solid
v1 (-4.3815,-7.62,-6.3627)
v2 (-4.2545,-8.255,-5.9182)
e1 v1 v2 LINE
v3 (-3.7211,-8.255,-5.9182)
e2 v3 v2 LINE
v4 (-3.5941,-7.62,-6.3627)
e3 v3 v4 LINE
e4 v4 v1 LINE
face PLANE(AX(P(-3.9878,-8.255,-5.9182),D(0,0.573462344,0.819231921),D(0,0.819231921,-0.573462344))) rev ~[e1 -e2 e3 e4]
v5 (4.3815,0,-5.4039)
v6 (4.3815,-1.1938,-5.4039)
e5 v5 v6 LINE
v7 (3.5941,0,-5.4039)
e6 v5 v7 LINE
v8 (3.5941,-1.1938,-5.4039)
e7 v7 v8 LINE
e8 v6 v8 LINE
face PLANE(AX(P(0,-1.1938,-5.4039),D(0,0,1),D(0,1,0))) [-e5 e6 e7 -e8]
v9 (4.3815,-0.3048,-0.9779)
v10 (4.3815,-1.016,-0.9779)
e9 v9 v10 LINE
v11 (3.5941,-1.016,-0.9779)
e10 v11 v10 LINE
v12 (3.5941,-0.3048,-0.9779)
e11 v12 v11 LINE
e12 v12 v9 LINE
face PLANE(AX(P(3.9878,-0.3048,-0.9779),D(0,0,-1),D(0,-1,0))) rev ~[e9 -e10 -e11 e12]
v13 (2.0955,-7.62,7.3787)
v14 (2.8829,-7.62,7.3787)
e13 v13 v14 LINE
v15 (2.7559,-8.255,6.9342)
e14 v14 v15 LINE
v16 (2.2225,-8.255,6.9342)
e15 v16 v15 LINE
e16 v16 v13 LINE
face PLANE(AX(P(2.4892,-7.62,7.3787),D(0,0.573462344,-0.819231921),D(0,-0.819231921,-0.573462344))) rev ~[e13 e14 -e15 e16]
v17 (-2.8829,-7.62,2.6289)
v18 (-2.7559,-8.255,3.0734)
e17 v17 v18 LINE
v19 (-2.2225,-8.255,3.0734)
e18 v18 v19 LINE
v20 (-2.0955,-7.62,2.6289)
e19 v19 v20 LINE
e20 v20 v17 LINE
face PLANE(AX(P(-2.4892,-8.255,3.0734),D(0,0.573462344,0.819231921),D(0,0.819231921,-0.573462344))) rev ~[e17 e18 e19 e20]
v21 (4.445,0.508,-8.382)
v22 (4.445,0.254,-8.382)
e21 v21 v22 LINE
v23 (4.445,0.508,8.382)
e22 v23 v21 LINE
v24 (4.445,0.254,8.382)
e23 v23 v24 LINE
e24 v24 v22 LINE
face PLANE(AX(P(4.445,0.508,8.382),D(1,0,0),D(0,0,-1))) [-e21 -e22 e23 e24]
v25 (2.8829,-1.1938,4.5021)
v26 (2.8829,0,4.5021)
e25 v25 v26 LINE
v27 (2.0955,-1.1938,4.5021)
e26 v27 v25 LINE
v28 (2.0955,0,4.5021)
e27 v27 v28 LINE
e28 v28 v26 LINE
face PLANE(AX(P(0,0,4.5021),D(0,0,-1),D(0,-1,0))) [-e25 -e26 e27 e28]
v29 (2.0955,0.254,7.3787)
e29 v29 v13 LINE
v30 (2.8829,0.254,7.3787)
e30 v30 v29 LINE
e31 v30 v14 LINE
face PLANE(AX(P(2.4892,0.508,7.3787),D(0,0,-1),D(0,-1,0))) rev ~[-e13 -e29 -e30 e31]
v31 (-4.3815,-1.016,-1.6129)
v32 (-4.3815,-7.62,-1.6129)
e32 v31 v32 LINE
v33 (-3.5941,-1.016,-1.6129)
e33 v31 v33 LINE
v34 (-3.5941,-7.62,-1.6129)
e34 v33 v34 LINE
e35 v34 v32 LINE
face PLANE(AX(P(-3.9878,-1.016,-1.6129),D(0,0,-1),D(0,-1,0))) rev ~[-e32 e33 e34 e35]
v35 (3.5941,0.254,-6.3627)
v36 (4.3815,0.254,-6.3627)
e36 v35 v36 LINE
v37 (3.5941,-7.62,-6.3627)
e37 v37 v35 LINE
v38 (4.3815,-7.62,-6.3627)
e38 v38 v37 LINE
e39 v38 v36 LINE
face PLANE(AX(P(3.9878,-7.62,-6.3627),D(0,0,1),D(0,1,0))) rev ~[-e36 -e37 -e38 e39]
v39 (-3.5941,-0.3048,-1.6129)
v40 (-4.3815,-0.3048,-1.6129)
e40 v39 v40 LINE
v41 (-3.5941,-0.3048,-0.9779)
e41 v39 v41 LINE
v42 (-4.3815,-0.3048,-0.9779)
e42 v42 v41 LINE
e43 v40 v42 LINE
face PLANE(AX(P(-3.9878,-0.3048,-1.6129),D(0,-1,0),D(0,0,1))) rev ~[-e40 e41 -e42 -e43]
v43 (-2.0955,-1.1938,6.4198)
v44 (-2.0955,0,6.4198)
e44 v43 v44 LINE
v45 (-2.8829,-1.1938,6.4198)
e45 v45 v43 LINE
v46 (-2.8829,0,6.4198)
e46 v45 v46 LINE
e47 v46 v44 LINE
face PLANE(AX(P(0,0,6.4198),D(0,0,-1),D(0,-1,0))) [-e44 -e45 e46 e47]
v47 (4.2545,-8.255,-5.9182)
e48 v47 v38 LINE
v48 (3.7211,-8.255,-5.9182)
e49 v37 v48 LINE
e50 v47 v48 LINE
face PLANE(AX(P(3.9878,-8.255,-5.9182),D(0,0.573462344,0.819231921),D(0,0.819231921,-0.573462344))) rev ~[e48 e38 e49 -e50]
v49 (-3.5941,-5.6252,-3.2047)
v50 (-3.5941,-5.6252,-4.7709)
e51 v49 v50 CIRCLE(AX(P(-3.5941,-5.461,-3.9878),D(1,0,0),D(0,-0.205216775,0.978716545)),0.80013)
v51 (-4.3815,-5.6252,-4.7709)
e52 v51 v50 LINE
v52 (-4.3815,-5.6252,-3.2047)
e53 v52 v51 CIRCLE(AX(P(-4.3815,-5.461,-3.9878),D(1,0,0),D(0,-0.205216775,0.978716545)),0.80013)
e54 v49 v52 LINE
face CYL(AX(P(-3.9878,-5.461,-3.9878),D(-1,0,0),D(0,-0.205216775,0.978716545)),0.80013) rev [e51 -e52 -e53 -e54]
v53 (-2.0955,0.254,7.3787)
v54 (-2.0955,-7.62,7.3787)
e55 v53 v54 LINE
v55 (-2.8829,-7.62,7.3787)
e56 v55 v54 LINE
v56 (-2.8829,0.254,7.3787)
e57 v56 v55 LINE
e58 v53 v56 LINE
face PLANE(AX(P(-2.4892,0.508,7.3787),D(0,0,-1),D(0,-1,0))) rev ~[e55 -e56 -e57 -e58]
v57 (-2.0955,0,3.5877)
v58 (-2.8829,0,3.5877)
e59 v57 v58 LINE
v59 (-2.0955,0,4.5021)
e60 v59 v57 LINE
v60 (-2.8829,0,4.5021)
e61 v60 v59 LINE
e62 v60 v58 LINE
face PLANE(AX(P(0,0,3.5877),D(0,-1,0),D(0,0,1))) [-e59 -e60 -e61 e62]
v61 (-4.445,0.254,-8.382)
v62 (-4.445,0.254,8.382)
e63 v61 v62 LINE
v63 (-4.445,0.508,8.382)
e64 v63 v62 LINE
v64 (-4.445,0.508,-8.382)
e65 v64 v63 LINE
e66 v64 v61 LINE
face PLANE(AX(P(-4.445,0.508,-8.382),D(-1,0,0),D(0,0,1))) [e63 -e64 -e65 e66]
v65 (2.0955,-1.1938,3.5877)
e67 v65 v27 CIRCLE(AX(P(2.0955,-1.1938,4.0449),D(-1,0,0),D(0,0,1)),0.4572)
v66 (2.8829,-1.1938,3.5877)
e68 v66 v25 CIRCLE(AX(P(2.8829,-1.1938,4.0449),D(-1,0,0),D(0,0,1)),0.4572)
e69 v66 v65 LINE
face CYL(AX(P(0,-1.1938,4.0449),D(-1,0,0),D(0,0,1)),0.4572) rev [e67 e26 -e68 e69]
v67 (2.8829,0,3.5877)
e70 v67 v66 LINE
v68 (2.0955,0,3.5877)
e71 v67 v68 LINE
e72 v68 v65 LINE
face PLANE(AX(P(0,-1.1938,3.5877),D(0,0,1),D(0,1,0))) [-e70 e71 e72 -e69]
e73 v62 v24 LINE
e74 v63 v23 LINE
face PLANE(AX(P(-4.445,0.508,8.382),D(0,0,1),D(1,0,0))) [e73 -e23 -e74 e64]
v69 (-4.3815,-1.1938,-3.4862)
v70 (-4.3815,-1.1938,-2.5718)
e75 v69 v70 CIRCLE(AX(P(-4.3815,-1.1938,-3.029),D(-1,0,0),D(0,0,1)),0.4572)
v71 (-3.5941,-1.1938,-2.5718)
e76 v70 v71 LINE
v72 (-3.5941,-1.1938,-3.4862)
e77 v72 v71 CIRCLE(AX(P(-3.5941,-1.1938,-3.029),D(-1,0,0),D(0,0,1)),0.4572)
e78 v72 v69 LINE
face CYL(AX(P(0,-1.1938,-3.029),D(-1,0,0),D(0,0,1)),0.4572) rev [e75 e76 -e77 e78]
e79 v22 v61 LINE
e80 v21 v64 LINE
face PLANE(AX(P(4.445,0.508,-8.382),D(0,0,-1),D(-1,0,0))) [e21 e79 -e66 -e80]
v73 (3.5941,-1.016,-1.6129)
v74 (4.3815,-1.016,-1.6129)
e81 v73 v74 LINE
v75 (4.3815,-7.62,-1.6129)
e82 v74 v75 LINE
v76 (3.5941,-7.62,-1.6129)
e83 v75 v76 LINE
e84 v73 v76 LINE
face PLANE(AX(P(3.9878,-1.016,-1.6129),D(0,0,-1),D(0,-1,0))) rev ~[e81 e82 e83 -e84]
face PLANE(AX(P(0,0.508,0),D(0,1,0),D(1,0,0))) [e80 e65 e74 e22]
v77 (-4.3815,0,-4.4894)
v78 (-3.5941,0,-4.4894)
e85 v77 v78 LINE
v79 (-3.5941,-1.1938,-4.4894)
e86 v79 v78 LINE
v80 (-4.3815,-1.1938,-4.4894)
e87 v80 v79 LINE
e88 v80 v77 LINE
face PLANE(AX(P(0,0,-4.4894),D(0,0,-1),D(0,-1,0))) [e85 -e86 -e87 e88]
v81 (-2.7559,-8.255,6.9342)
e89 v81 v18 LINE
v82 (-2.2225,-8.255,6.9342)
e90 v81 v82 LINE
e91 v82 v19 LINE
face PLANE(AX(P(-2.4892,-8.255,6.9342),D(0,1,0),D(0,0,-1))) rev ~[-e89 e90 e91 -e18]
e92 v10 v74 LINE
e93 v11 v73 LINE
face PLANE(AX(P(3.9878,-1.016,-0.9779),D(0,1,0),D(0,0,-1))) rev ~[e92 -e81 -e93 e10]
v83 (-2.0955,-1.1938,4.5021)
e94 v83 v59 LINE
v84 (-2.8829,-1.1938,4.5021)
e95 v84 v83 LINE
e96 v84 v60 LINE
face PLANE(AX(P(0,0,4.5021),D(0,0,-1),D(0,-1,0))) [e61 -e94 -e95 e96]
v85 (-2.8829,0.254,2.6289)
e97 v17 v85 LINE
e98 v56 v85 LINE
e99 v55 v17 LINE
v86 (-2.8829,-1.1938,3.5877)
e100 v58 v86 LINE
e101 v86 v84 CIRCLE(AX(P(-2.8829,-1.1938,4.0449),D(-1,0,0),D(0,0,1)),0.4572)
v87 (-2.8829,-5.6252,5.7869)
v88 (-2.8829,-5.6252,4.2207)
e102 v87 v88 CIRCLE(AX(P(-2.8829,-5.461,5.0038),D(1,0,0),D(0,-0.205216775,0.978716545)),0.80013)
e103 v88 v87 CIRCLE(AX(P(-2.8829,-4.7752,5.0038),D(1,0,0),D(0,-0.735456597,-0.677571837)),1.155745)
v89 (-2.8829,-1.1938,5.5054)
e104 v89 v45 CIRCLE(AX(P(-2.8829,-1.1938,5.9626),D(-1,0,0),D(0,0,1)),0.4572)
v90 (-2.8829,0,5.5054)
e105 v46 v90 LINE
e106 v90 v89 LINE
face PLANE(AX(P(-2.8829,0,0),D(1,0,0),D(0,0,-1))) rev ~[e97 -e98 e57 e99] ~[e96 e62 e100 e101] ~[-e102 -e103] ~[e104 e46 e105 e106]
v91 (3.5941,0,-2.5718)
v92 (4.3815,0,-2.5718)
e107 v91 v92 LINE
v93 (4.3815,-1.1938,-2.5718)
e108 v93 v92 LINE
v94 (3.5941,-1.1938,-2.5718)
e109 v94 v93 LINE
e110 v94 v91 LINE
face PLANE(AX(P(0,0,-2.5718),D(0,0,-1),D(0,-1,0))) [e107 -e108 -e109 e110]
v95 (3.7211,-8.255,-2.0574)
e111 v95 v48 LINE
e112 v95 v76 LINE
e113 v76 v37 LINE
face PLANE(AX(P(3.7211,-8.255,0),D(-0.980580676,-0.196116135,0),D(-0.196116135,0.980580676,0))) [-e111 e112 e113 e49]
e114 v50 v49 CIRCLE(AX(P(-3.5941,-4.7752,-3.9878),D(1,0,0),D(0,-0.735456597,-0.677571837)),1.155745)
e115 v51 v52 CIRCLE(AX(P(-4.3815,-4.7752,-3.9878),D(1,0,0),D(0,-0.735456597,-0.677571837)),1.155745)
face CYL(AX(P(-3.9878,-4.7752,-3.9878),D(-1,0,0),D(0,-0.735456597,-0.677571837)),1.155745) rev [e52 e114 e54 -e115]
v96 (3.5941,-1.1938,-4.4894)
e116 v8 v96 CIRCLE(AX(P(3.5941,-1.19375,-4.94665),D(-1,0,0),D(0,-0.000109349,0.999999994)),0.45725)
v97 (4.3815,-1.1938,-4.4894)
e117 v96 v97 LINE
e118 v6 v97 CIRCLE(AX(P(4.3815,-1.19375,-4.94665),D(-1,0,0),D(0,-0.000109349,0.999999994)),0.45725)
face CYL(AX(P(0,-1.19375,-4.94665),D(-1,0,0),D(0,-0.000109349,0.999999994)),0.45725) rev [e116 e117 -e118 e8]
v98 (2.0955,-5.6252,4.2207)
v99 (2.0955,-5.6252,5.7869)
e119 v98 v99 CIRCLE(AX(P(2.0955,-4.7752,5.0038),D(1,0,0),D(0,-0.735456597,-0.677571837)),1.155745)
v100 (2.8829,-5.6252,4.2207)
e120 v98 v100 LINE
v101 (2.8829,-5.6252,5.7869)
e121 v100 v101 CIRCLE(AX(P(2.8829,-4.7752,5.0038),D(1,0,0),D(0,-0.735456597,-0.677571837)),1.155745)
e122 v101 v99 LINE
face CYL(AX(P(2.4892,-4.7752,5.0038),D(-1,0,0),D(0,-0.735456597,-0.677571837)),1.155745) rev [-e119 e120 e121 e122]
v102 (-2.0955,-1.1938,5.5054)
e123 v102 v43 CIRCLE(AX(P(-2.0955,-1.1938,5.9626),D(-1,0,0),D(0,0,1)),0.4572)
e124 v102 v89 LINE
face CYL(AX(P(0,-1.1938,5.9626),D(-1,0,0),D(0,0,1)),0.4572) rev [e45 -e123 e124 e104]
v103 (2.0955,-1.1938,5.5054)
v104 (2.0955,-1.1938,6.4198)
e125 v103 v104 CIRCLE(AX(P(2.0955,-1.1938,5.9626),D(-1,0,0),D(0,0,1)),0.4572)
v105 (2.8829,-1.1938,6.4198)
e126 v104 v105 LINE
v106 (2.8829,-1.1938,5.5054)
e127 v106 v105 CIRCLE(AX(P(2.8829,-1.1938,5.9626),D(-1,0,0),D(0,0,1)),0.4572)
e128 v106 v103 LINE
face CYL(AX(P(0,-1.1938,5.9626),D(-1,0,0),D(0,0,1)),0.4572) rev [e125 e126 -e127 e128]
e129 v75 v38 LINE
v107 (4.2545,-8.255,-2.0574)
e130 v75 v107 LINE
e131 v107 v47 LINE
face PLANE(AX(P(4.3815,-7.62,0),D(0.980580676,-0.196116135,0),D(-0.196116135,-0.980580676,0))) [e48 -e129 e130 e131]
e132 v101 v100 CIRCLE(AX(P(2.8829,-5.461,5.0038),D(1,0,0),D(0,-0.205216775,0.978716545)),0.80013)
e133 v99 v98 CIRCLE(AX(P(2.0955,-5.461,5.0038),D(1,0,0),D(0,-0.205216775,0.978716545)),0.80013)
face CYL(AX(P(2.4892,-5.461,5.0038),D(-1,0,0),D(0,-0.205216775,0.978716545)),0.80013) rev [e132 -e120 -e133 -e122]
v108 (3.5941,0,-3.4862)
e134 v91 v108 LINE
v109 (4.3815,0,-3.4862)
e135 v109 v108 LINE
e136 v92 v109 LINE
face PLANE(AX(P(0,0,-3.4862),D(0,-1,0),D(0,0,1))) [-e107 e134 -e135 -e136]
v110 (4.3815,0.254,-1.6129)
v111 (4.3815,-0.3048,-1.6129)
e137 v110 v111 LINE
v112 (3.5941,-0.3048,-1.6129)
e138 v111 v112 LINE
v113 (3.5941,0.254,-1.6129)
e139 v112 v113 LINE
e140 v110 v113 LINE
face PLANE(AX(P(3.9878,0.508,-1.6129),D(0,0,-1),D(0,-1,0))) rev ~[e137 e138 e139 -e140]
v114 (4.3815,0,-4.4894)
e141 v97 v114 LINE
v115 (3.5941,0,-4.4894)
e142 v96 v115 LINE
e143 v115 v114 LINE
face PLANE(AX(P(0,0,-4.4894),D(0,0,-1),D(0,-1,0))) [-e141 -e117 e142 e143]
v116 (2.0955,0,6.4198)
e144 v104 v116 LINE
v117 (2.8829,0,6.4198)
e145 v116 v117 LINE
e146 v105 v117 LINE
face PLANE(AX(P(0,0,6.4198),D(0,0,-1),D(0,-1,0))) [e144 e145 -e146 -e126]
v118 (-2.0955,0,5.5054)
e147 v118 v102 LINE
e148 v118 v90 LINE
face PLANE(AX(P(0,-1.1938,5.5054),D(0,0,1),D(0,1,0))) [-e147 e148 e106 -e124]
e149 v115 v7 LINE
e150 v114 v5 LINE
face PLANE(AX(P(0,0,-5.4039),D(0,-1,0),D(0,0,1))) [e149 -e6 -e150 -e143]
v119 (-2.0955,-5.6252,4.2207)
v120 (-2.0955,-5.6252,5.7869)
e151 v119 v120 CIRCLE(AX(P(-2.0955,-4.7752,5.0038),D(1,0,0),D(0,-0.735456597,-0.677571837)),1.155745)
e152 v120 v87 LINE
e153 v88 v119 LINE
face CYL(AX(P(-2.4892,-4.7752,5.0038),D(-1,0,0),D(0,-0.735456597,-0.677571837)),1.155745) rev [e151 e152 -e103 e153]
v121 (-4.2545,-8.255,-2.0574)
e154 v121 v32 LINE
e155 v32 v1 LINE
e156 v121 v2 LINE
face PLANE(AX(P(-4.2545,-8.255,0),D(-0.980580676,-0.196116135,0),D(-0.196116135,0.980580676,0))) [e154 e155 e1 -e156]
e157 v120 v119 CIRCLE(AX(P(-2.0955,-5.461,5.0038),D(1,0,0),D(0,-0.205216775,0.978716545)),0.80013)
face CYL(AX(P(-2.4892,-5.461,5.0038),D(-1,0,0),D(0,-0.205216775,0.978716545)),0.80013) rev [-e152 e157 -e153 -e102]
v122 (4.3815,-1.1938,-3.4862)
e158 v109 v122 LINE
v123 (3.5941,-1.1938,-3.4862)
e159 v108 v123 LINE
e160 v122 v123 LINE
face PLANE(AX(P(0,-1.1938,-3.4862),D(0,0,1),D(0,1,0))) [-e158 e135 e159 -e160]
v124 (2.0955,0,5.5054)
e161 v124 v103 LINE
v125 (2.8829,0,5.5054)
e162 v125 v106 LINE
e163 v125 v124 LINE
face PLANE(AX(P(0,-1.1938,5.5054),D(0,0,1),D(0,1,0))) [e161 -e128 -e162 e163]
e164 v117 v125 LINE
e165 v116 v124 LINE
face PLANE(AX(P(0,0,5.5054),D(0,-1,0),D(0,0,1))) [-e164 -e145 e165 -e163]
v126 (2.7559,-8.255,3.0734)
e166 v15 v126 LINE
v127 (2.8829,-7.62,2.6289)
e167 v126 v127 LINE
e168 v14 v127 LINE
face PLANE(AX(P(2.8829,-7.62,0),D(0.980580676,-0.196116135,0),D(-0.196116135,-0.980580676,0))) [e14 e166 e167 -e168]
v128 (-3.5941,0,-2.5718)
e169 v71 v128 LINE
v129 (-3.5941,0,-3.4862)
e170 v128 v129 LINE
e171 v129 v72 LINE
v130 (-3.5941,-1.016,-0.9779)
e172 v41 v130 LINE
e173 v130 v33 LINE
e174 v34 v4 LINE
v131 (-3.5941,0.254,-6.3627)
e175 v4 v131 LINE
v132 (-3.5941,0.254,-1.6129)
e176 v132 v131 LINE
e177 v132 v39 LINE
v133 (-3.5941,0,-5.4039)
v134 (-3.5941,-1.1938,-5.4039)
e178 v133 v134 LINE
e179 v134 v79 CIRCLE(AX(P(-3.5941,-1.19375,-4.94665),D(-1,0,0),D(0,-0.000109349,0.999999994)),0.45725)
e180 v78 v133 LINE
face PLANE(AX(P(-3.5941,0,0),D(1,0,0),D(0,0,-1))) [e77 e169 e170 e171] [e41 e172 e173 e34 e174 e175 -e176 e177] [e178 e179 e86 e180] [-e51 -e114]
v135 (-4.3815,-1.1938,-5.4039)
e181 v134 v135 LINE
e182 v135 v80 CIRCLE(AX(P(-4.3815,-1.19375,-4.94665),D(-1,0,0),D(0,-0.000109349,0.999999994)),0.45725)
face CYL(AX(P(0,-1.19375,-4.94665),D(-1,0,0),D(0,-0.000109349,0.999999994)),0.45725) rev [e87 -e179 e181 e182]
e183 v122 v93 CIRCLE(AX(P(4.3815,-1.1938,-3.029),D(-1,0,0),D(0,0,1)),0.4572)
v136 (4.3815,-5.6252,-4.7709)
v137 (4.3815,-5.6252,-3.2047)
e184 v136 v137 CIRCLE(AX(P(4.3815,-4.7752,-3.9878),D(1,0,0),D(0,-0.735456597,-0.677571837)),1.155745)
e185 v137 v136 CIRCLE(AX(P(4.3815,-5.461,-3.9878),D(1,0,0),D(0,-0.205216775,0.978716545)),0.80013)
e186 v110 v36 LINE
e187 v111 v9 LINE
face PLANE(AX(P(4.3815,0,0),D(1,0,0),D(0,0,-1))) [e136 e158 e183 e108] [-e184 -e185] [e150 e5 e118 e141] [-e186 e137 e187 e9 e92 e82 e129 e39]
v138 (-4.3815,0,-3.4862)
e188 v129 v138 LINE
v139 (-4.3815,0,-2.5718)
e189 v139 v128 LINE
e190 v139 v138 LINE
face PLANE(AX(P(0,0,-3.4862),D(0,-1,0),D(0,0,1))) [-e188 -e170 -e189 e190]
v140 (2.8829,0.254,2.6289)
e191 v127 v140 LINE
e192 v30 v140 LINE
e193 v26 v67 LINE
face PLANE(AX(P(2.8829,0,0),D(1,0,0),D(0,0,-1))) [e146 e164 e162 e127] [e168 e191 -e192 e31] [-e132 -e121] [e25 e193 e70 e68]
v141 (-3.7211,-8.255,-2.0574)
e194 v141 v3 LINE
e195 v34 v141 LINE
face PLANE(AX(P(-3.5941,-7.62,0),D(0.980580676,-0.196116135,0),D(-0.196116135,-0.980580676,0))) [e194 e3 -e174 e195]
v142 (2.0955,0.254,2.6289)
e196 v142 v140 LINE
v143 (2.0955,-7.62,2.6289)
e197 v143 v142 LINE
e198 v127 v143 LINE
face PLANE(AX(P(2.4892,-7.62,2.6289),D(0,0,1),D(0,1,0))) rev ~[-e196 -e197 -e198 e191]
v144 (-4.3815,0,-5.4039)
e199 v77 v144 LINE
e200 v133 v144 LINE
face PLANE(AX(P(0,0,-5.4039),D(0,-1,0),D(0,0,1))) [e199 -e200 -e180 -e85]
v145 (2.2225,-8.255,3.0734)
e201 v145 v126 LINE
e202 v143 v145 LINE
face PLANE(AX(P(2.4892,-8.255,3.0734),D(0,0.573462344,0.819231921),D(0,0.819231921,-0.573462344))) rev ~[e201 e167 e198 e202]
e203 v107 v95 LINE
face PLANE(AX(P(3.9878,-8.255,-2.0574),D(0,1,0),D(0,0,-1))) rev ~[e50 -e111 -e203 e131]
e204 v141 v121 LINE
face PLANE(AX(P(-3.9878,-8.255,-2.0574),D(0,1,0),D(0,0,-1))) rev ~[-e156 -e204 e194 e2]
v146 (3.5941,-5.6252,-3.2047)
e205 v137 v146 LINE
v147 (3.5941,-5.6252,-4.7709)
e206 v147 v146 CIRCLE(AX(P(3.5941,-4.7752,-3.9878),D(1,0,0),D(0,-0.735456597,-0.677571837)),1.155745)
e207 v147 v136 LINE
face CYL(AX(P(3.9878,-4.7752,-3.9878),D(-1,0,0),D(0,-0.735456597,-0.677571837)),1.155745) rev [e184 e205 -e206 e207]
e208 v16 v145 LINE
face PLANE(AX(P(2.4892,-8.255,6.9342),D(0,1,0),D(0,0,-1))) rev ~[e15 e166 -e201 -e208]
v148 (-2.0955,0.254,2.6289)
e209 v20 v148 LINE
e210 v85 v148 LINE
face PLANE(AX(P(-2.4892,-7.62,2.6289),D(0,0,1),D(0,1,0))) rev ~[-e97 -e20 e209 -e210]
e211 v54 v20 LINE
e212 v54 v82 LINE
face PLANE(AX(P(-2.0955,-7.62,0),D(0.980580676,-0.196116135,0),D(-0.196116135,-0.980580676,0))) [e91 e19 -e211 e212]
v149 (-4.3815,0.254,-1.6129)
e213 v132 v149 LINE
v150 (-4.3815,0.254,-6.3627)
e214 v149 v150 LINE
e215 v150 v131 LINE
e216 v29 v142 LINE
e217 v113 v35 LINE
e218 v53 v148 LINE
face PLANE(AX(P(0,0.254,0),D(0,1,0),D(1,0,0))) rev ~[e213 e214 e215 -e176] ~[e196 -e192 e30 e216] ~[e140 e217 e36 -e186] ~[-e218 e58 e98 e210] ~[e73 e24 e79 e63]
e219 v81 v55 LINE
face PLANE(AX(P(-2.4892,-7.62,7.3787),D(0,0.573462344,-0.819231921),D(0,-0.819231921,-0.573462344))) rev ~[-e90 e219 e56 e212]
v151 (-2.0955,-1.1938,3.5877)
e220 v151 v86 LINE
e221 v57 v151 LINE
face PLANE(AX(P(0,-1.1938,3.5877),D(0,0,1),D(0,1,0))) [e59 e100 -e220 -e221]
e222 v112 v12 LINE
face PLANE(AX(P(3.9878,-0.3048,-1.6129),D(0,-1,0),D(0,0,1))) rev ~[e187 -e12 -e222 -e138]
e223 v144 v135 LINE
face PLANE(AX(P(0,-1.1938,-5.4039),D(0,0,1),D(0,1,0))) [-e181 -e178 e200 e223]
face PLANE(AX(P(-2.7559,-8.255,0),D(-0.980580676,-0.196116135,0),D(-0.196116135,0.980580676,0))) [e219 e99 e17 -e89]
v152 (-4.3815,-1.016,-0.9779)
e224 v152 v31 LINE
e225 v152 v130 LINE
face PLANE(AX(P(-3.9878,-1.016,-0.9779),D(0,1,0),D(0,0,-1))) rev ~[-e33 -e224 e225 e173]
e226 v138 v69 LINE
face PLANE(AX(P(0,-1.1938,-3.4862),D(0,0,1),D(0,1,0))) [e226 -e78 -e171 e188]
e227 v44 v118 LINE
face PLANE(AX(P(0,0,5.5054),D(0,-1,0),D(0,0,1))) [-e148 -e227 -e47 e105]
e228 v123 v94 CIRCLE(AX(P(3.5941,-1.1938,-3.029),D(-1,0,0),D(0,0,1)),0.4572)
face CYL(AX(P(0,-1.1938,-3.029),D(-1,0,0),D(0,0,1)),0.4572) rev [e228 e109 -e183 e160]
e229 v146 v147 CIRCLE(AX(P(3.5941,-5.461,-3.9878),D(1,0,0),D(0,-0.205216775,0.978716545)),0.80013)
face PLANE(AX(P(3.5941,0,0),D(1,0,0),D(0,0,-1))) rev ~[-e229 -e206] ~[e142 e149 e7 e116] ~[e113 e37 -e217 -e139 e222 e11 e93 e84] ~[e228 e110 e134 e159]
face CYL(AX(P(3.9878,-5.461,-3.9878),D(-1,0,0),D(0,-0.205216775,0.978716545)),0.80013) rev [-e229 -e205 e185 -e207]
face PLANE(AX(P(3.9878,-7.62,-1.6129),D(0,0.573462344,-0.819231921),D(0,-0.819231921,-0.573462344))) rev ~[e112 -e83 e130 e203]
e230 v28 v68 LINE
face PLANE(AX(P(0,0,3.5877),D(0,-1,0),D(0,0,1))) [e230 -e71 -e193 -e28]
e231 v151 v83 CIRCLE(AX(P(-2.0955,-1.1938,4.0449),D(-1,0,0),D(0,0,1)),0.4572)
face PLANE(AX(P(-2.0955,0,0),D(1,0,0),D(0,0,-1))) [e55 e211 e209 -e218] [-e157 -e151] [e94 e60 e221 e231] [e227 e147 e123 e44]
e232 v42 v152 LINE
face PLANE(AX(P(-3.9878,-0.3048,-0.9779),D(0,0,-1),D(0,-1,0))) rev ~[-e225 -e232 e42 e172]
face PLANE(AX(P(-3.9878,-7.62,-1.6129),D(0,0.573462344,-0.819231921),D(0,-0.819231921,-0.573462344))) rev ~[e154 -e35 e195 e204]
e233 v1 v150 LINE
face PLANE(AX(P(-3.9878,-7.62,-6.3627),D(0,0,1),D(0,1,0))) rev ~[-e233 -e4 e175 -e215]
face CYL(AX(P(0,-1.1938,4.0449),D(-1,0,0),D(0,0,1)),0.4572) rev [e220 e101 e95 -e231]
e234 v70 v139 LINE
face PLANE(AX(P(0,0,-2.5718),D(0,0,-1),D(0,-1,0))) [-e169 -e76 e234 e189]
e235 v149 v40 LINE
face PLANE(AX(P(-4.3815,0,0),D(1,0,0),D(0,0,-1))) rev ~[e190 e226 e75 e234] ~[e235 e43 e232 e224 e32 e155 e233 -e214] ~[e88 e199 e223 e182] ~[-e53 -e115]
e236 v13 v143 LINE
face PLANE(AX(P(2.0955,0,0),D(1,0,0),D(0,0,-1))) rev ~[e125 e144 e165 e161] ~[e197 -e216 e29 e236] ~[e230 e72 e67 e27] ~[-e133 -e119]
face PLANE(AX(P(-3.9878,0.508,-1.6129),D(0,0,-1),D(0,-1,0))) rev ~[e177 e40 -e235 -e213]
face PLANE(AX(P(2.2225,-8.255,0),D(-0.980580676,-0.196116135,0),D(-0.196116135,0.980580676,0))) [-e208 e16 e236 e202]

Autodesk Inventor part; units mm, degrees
sketch "Sketch_1" plane through (0, 0.508, 0) normal (0, 1, 0) x (1, 0, 0)
  line L0 (-4.445, 8.382) -> (-4.445, -8.382)
  line L1 (-4.445, -8.382) -> (4.445, -8.382)
  line L2 (4.445, -8.382) -> (4.445, 8.382)
  line L3 (4.445, 8.382) -> (-4.445, 8.382)
extrude "Extrusion1" add sketch "Sketch_1" against normal blind 0.254
sketch "Sketch_2" plane through (-2.4892, 0, 0) normal (1, 0, 0) x (0, 0, -1)
  line L0 (-7.3787, -7.62) -> (-6.9342, -8.255)
  line L1 (-6.9342, -8.255) -> (-3.0734, -8.255)
  line L2 (-3.0734, -8.255) -> (-2.6289, -7.62)
  line L3 (-2.6289, -7.62) -> (-2.6289, 0.508)
  line L4 (-2.6289, 0.508) -> (-7.3787, 0.508)
  line L5 (-7.3787, 0.508) -> (-7.3787, -7.62)
  arc A0 (-4.2207, -5.6252) -> (-5.7869, -5.6252) centre (-5.0038, -4.7752) ccw
  arc A1 (-5.7869, -5.6252) -> (-4.2207, -5.6252) centre (-5.0038, -5.461) ccw
extrude "Extrusion2" add sketch "Sketch_2" along normal mid plane 0.7874
sketch "Sketch_3" plane through (2.4892, 0, 0) normal (1, 0, 0) x (0, 0, -1)
  line L0 (-7.3787, -7.62) -> (-6.9342, -8.255)
  line L1 (-6.9342, -8.255) -> (-3.0734, -8.255)
  line L2 (-3.0734, -8.255) -> (-2.6289, -7.62)
  line L3 (-2.6289, -7.62) -> (-2.6289, 0.508)
  line L4 (-2.6289, 0.508) -> (-7.3787, 0.508)
  line L5 (-7.3787, 0.508) -> (-7.3787, -7.62)
  arc A0 (-4.2207, -5.6252) -> (-5.7869, -5.6252) centre (-5.0038, -4.7752) ccw
  arc A1 (-5.7869, -5.6252) -> (-4.2207, -5.6252) centre (-5.0038, -5.461) ccw
extrude "Extrusion3" add sketch "Sketch_3" along normal mid plane 0.7874
sketch "Sketch_4" plane through (-3.9878, 0, 0) normal (1, 0, 0) x (0, 0, -1)
  line L0 (0.9779, -0.3048) -> (0.9779, -1.016)
  line L1 (0.9779, -1.016) -> (1.6129, -1.016)
  line L2 (1.6129, -1.016) -> (1.6129, -7.62)
  line L3 (1.6129, -7.62) -> (2.0574, -8.255)
  line L4 (2.0574, -8.255) -> (5.9182, -8.255)
  line L5 (5.9182, -8.255) -> (6.3627, -7.62)
  line L6 (6.3627, -7.62) -> (6.3627, 0.508)
  line L7 (6.3627, 0.508) -> (1.6129, 0.508)
  line L8 (1.6129, 0.508) -> (1.6129, -0.3048)
  line L9 (1.6129, -0.3048) -> (0.9779, -0.3048)
  arc A0 (4.7709, -5.6252) -> (3.2047, -5.6252) centre (3.9878, -4.7752) ccw
  arc A1 (3.2047, -5.6252) -> (4.7709, -5.6252) centre (3.9878, -5.461) ccw
extrude "Extrusion4" add sketch "Sketch_4" along normal mid plane 0.7874
sketch "Sketch_5" plane through (3.9878, 0, 0) normal (1, 0, 0) x (0, 0, -1)
  line L0 (0.9779, -0.3048) -> (0.9779, -1.016)
  line L1 (0.9779, -1.016) -> (1.6129, -1.016)
  line L2 (1.6129, -1.016) -> (1.6129, -7.62)
  line L3 (1.6129, -7.62) -> (2.0574, -8.255)
  line L4 (2.0574, -8.255) -> (5.9182, -8.255)
  line L5 (5.9182, -8.255) -> (6.3627, -7.62)
  line L6 (6.3627, -7.62) -> (6.3627, 0.508)
  line L7 (6.3627, 0.508) -> (1.6129, 0.508)
  line L8 (1.6129, 0.508) -> (1.6129, -0.3048)
  line L9 (1.6129, -0.3048) -> (0.9779, -0.3048)
  arc A0 (4.7709, -5.6252) -> (3.2047, -5.6252) centre (3.9878, -4.7752) ccw
  arc A1 (3.2047, -5.6252) -> (4.7709, -5.6252) centre (3.9878, -5.461) ccw
extrude "Extrusion5" add sketch "Sketch_5" along normal mid plane 0.7874
sketch "Sketch_6" plane through (0, 0, 0) normal (0, 0, 1) x (1, 0, 0)
  line L0 (-5.08, -8.636) -> (5.08, -8.636)
  line L1 (5.08, -8.636) -> (5.08, 0)
  line L2 (5.08, 0) -> (4.3815, 0)
  line L3 (4.3815, 0) -> (4.3815, -7.62)
  line L4 (4.3815, -7.62) -> (4.2545, -8.255)
  line L5 (4.2545, -8.255) -> (3.7211, -8.255)
  line L6 (3.7211, -8.255) -> (3.5941, -7.62)
  line L7 (3.5941, -7.62) -> (3.5941, 0)
  line L8 (3.5941, 0) -> (2.8829, 0)
  line L9 (2.8829, 0) -> (2.8829, -7.62)
  line L10 (2.8829, -7.62) -> (2.7559, -8.255)
  line L11 (2.7559, -8.255) -> (2.2225, -8.255)
  line L12 (2.2225, -8.255) -> (2.0955, -7.62)
  line L13 (2.0955, -7.62) -> (2.0955, 0)
  line L14 (2.0955, 0) -> (-2.0955, 0)
  line L15 (-2.0955, 0) -> (-2.0955, -7.62)
  line L16 (-2.0955, -7.62) -> (-2.2225, -8.255)
  line L17 (-2.2225, -8.255) -> (-2.7559, -8.255)
  line L18 (-2.7559, -8.255) -> (-2.8829, -7.62)
  line L19 (-2.8829, -7.62) -> (-2.8829, 0)
  line L20 (-2.8829, 0) -> (-3.5941, 0)
  line L21 (-3.5941, 0) -> (-3.5941, -7.62)
  line L22 (-3.5941, -7.62) -> (-3.7211, -8.255)
  line L23 (-3.7211, -8.255) -> (-4.2545, -8.255)
  line L24 (-4.2545, -8.255) -> (-4.3815, -7.62)
  line L25 (-4.3815, -7.62) -> (-4.3815, 0)
  line L26 (-4.3815, 0) -> (-5.08, 0)
  line L27 (-5.08, 0) -> (-5.08, -8.636)
extrude "Extrusion6" cut sketch "Sketch_6" along normal mid plane 17.78
sketch "Sketch_8" plane through (0, 0, 0) normal (1, 0, 0) x (0, 1, 0)
  line L0 (0, 6.4198) -> (-1.1938, 6.4198)
  arc A0 (-1.1938, 6.4198) -> (-1.1938, 5.5054) centre (-1.1938, 5.9626) ccw
  line L1 (-1.1938, 5.5054) -> (0, 5.5054)
  line L2 (0, 5.5054) -> (0, 6.4198)
extrude "Extrusion7" cut sketch "Sketch_8" along normal mid plane 17.78
sketch "Sketch_9" plane through (0, 0, 0) normal (1, 0, 0) x (0, 1, 0)
  line L0 (0, 4.5021) -> (-1.1938, 4.5021)
  arc A0 (-1.1938, 4.5021) -> (-1.1938, 3.5877) centre (-1.1938, 4.0449) ccw
  line L1 (-1.1938, 3.5877) -> (0, 3.5877)
  line L2 (0, 3.5877) -> (0, 4.5021)
extrude "Extrusion8" cut sketch "Sketch_9" along normal mid plane 17.78
sketch "Sketch_10" plane through (0, 0, 0) normal (1, 0, 0) x (0, 1, 0)
  line L0 (0, -2.5718) -> (-1.1938, -2.5718)
  arc A0 (-1.1938, -2.5718) -> (-1.1938, -3.4862) centre (-1.1938, -3.029) ccw
  line L1 (-1.1938, -3.4862) -> (0, -3.4862)
  line L2 (0, -3.4862) -> (0, -2.5718)
extrude "Extrusion9" cut sketch "Sketch_10" along normal mid plane 17.78
sketch "Sketch_11" plane through (0, 0, 0) normal (1, 0, 0) x (0, 1, 0)
  line L0 (0, -4.4894) -> (-1.1938, -4.4894)
  arc A0 (-1.1938, -4.4894) -> (-1.1938, -5.4039) centre (-1.1938, -4.9466) ccw
  line L1 (-1.1938, -5.4039) -> (0, -5.4039)
  line L2 (0, -5.4039) -> (0, -4.4894)
extrude "Extrusion10" cut sketch "Sketch_11" along normal mid plane 17.78
ref_plane "to_body_XY" through (0, 0, 0) normal (0, -1, 0) x (1, 0, 0)
ref_plane "to_body_YZ" through (0, 0, 0) normal (1, 0, 0) x (0, 0, 1)
ref_plane "to_body_ZX" through (0, 0, 0) normal (0, 0, 1) x (0, -1, 0)
properties part number "CWSB2F-nonillumin_trmnls"
